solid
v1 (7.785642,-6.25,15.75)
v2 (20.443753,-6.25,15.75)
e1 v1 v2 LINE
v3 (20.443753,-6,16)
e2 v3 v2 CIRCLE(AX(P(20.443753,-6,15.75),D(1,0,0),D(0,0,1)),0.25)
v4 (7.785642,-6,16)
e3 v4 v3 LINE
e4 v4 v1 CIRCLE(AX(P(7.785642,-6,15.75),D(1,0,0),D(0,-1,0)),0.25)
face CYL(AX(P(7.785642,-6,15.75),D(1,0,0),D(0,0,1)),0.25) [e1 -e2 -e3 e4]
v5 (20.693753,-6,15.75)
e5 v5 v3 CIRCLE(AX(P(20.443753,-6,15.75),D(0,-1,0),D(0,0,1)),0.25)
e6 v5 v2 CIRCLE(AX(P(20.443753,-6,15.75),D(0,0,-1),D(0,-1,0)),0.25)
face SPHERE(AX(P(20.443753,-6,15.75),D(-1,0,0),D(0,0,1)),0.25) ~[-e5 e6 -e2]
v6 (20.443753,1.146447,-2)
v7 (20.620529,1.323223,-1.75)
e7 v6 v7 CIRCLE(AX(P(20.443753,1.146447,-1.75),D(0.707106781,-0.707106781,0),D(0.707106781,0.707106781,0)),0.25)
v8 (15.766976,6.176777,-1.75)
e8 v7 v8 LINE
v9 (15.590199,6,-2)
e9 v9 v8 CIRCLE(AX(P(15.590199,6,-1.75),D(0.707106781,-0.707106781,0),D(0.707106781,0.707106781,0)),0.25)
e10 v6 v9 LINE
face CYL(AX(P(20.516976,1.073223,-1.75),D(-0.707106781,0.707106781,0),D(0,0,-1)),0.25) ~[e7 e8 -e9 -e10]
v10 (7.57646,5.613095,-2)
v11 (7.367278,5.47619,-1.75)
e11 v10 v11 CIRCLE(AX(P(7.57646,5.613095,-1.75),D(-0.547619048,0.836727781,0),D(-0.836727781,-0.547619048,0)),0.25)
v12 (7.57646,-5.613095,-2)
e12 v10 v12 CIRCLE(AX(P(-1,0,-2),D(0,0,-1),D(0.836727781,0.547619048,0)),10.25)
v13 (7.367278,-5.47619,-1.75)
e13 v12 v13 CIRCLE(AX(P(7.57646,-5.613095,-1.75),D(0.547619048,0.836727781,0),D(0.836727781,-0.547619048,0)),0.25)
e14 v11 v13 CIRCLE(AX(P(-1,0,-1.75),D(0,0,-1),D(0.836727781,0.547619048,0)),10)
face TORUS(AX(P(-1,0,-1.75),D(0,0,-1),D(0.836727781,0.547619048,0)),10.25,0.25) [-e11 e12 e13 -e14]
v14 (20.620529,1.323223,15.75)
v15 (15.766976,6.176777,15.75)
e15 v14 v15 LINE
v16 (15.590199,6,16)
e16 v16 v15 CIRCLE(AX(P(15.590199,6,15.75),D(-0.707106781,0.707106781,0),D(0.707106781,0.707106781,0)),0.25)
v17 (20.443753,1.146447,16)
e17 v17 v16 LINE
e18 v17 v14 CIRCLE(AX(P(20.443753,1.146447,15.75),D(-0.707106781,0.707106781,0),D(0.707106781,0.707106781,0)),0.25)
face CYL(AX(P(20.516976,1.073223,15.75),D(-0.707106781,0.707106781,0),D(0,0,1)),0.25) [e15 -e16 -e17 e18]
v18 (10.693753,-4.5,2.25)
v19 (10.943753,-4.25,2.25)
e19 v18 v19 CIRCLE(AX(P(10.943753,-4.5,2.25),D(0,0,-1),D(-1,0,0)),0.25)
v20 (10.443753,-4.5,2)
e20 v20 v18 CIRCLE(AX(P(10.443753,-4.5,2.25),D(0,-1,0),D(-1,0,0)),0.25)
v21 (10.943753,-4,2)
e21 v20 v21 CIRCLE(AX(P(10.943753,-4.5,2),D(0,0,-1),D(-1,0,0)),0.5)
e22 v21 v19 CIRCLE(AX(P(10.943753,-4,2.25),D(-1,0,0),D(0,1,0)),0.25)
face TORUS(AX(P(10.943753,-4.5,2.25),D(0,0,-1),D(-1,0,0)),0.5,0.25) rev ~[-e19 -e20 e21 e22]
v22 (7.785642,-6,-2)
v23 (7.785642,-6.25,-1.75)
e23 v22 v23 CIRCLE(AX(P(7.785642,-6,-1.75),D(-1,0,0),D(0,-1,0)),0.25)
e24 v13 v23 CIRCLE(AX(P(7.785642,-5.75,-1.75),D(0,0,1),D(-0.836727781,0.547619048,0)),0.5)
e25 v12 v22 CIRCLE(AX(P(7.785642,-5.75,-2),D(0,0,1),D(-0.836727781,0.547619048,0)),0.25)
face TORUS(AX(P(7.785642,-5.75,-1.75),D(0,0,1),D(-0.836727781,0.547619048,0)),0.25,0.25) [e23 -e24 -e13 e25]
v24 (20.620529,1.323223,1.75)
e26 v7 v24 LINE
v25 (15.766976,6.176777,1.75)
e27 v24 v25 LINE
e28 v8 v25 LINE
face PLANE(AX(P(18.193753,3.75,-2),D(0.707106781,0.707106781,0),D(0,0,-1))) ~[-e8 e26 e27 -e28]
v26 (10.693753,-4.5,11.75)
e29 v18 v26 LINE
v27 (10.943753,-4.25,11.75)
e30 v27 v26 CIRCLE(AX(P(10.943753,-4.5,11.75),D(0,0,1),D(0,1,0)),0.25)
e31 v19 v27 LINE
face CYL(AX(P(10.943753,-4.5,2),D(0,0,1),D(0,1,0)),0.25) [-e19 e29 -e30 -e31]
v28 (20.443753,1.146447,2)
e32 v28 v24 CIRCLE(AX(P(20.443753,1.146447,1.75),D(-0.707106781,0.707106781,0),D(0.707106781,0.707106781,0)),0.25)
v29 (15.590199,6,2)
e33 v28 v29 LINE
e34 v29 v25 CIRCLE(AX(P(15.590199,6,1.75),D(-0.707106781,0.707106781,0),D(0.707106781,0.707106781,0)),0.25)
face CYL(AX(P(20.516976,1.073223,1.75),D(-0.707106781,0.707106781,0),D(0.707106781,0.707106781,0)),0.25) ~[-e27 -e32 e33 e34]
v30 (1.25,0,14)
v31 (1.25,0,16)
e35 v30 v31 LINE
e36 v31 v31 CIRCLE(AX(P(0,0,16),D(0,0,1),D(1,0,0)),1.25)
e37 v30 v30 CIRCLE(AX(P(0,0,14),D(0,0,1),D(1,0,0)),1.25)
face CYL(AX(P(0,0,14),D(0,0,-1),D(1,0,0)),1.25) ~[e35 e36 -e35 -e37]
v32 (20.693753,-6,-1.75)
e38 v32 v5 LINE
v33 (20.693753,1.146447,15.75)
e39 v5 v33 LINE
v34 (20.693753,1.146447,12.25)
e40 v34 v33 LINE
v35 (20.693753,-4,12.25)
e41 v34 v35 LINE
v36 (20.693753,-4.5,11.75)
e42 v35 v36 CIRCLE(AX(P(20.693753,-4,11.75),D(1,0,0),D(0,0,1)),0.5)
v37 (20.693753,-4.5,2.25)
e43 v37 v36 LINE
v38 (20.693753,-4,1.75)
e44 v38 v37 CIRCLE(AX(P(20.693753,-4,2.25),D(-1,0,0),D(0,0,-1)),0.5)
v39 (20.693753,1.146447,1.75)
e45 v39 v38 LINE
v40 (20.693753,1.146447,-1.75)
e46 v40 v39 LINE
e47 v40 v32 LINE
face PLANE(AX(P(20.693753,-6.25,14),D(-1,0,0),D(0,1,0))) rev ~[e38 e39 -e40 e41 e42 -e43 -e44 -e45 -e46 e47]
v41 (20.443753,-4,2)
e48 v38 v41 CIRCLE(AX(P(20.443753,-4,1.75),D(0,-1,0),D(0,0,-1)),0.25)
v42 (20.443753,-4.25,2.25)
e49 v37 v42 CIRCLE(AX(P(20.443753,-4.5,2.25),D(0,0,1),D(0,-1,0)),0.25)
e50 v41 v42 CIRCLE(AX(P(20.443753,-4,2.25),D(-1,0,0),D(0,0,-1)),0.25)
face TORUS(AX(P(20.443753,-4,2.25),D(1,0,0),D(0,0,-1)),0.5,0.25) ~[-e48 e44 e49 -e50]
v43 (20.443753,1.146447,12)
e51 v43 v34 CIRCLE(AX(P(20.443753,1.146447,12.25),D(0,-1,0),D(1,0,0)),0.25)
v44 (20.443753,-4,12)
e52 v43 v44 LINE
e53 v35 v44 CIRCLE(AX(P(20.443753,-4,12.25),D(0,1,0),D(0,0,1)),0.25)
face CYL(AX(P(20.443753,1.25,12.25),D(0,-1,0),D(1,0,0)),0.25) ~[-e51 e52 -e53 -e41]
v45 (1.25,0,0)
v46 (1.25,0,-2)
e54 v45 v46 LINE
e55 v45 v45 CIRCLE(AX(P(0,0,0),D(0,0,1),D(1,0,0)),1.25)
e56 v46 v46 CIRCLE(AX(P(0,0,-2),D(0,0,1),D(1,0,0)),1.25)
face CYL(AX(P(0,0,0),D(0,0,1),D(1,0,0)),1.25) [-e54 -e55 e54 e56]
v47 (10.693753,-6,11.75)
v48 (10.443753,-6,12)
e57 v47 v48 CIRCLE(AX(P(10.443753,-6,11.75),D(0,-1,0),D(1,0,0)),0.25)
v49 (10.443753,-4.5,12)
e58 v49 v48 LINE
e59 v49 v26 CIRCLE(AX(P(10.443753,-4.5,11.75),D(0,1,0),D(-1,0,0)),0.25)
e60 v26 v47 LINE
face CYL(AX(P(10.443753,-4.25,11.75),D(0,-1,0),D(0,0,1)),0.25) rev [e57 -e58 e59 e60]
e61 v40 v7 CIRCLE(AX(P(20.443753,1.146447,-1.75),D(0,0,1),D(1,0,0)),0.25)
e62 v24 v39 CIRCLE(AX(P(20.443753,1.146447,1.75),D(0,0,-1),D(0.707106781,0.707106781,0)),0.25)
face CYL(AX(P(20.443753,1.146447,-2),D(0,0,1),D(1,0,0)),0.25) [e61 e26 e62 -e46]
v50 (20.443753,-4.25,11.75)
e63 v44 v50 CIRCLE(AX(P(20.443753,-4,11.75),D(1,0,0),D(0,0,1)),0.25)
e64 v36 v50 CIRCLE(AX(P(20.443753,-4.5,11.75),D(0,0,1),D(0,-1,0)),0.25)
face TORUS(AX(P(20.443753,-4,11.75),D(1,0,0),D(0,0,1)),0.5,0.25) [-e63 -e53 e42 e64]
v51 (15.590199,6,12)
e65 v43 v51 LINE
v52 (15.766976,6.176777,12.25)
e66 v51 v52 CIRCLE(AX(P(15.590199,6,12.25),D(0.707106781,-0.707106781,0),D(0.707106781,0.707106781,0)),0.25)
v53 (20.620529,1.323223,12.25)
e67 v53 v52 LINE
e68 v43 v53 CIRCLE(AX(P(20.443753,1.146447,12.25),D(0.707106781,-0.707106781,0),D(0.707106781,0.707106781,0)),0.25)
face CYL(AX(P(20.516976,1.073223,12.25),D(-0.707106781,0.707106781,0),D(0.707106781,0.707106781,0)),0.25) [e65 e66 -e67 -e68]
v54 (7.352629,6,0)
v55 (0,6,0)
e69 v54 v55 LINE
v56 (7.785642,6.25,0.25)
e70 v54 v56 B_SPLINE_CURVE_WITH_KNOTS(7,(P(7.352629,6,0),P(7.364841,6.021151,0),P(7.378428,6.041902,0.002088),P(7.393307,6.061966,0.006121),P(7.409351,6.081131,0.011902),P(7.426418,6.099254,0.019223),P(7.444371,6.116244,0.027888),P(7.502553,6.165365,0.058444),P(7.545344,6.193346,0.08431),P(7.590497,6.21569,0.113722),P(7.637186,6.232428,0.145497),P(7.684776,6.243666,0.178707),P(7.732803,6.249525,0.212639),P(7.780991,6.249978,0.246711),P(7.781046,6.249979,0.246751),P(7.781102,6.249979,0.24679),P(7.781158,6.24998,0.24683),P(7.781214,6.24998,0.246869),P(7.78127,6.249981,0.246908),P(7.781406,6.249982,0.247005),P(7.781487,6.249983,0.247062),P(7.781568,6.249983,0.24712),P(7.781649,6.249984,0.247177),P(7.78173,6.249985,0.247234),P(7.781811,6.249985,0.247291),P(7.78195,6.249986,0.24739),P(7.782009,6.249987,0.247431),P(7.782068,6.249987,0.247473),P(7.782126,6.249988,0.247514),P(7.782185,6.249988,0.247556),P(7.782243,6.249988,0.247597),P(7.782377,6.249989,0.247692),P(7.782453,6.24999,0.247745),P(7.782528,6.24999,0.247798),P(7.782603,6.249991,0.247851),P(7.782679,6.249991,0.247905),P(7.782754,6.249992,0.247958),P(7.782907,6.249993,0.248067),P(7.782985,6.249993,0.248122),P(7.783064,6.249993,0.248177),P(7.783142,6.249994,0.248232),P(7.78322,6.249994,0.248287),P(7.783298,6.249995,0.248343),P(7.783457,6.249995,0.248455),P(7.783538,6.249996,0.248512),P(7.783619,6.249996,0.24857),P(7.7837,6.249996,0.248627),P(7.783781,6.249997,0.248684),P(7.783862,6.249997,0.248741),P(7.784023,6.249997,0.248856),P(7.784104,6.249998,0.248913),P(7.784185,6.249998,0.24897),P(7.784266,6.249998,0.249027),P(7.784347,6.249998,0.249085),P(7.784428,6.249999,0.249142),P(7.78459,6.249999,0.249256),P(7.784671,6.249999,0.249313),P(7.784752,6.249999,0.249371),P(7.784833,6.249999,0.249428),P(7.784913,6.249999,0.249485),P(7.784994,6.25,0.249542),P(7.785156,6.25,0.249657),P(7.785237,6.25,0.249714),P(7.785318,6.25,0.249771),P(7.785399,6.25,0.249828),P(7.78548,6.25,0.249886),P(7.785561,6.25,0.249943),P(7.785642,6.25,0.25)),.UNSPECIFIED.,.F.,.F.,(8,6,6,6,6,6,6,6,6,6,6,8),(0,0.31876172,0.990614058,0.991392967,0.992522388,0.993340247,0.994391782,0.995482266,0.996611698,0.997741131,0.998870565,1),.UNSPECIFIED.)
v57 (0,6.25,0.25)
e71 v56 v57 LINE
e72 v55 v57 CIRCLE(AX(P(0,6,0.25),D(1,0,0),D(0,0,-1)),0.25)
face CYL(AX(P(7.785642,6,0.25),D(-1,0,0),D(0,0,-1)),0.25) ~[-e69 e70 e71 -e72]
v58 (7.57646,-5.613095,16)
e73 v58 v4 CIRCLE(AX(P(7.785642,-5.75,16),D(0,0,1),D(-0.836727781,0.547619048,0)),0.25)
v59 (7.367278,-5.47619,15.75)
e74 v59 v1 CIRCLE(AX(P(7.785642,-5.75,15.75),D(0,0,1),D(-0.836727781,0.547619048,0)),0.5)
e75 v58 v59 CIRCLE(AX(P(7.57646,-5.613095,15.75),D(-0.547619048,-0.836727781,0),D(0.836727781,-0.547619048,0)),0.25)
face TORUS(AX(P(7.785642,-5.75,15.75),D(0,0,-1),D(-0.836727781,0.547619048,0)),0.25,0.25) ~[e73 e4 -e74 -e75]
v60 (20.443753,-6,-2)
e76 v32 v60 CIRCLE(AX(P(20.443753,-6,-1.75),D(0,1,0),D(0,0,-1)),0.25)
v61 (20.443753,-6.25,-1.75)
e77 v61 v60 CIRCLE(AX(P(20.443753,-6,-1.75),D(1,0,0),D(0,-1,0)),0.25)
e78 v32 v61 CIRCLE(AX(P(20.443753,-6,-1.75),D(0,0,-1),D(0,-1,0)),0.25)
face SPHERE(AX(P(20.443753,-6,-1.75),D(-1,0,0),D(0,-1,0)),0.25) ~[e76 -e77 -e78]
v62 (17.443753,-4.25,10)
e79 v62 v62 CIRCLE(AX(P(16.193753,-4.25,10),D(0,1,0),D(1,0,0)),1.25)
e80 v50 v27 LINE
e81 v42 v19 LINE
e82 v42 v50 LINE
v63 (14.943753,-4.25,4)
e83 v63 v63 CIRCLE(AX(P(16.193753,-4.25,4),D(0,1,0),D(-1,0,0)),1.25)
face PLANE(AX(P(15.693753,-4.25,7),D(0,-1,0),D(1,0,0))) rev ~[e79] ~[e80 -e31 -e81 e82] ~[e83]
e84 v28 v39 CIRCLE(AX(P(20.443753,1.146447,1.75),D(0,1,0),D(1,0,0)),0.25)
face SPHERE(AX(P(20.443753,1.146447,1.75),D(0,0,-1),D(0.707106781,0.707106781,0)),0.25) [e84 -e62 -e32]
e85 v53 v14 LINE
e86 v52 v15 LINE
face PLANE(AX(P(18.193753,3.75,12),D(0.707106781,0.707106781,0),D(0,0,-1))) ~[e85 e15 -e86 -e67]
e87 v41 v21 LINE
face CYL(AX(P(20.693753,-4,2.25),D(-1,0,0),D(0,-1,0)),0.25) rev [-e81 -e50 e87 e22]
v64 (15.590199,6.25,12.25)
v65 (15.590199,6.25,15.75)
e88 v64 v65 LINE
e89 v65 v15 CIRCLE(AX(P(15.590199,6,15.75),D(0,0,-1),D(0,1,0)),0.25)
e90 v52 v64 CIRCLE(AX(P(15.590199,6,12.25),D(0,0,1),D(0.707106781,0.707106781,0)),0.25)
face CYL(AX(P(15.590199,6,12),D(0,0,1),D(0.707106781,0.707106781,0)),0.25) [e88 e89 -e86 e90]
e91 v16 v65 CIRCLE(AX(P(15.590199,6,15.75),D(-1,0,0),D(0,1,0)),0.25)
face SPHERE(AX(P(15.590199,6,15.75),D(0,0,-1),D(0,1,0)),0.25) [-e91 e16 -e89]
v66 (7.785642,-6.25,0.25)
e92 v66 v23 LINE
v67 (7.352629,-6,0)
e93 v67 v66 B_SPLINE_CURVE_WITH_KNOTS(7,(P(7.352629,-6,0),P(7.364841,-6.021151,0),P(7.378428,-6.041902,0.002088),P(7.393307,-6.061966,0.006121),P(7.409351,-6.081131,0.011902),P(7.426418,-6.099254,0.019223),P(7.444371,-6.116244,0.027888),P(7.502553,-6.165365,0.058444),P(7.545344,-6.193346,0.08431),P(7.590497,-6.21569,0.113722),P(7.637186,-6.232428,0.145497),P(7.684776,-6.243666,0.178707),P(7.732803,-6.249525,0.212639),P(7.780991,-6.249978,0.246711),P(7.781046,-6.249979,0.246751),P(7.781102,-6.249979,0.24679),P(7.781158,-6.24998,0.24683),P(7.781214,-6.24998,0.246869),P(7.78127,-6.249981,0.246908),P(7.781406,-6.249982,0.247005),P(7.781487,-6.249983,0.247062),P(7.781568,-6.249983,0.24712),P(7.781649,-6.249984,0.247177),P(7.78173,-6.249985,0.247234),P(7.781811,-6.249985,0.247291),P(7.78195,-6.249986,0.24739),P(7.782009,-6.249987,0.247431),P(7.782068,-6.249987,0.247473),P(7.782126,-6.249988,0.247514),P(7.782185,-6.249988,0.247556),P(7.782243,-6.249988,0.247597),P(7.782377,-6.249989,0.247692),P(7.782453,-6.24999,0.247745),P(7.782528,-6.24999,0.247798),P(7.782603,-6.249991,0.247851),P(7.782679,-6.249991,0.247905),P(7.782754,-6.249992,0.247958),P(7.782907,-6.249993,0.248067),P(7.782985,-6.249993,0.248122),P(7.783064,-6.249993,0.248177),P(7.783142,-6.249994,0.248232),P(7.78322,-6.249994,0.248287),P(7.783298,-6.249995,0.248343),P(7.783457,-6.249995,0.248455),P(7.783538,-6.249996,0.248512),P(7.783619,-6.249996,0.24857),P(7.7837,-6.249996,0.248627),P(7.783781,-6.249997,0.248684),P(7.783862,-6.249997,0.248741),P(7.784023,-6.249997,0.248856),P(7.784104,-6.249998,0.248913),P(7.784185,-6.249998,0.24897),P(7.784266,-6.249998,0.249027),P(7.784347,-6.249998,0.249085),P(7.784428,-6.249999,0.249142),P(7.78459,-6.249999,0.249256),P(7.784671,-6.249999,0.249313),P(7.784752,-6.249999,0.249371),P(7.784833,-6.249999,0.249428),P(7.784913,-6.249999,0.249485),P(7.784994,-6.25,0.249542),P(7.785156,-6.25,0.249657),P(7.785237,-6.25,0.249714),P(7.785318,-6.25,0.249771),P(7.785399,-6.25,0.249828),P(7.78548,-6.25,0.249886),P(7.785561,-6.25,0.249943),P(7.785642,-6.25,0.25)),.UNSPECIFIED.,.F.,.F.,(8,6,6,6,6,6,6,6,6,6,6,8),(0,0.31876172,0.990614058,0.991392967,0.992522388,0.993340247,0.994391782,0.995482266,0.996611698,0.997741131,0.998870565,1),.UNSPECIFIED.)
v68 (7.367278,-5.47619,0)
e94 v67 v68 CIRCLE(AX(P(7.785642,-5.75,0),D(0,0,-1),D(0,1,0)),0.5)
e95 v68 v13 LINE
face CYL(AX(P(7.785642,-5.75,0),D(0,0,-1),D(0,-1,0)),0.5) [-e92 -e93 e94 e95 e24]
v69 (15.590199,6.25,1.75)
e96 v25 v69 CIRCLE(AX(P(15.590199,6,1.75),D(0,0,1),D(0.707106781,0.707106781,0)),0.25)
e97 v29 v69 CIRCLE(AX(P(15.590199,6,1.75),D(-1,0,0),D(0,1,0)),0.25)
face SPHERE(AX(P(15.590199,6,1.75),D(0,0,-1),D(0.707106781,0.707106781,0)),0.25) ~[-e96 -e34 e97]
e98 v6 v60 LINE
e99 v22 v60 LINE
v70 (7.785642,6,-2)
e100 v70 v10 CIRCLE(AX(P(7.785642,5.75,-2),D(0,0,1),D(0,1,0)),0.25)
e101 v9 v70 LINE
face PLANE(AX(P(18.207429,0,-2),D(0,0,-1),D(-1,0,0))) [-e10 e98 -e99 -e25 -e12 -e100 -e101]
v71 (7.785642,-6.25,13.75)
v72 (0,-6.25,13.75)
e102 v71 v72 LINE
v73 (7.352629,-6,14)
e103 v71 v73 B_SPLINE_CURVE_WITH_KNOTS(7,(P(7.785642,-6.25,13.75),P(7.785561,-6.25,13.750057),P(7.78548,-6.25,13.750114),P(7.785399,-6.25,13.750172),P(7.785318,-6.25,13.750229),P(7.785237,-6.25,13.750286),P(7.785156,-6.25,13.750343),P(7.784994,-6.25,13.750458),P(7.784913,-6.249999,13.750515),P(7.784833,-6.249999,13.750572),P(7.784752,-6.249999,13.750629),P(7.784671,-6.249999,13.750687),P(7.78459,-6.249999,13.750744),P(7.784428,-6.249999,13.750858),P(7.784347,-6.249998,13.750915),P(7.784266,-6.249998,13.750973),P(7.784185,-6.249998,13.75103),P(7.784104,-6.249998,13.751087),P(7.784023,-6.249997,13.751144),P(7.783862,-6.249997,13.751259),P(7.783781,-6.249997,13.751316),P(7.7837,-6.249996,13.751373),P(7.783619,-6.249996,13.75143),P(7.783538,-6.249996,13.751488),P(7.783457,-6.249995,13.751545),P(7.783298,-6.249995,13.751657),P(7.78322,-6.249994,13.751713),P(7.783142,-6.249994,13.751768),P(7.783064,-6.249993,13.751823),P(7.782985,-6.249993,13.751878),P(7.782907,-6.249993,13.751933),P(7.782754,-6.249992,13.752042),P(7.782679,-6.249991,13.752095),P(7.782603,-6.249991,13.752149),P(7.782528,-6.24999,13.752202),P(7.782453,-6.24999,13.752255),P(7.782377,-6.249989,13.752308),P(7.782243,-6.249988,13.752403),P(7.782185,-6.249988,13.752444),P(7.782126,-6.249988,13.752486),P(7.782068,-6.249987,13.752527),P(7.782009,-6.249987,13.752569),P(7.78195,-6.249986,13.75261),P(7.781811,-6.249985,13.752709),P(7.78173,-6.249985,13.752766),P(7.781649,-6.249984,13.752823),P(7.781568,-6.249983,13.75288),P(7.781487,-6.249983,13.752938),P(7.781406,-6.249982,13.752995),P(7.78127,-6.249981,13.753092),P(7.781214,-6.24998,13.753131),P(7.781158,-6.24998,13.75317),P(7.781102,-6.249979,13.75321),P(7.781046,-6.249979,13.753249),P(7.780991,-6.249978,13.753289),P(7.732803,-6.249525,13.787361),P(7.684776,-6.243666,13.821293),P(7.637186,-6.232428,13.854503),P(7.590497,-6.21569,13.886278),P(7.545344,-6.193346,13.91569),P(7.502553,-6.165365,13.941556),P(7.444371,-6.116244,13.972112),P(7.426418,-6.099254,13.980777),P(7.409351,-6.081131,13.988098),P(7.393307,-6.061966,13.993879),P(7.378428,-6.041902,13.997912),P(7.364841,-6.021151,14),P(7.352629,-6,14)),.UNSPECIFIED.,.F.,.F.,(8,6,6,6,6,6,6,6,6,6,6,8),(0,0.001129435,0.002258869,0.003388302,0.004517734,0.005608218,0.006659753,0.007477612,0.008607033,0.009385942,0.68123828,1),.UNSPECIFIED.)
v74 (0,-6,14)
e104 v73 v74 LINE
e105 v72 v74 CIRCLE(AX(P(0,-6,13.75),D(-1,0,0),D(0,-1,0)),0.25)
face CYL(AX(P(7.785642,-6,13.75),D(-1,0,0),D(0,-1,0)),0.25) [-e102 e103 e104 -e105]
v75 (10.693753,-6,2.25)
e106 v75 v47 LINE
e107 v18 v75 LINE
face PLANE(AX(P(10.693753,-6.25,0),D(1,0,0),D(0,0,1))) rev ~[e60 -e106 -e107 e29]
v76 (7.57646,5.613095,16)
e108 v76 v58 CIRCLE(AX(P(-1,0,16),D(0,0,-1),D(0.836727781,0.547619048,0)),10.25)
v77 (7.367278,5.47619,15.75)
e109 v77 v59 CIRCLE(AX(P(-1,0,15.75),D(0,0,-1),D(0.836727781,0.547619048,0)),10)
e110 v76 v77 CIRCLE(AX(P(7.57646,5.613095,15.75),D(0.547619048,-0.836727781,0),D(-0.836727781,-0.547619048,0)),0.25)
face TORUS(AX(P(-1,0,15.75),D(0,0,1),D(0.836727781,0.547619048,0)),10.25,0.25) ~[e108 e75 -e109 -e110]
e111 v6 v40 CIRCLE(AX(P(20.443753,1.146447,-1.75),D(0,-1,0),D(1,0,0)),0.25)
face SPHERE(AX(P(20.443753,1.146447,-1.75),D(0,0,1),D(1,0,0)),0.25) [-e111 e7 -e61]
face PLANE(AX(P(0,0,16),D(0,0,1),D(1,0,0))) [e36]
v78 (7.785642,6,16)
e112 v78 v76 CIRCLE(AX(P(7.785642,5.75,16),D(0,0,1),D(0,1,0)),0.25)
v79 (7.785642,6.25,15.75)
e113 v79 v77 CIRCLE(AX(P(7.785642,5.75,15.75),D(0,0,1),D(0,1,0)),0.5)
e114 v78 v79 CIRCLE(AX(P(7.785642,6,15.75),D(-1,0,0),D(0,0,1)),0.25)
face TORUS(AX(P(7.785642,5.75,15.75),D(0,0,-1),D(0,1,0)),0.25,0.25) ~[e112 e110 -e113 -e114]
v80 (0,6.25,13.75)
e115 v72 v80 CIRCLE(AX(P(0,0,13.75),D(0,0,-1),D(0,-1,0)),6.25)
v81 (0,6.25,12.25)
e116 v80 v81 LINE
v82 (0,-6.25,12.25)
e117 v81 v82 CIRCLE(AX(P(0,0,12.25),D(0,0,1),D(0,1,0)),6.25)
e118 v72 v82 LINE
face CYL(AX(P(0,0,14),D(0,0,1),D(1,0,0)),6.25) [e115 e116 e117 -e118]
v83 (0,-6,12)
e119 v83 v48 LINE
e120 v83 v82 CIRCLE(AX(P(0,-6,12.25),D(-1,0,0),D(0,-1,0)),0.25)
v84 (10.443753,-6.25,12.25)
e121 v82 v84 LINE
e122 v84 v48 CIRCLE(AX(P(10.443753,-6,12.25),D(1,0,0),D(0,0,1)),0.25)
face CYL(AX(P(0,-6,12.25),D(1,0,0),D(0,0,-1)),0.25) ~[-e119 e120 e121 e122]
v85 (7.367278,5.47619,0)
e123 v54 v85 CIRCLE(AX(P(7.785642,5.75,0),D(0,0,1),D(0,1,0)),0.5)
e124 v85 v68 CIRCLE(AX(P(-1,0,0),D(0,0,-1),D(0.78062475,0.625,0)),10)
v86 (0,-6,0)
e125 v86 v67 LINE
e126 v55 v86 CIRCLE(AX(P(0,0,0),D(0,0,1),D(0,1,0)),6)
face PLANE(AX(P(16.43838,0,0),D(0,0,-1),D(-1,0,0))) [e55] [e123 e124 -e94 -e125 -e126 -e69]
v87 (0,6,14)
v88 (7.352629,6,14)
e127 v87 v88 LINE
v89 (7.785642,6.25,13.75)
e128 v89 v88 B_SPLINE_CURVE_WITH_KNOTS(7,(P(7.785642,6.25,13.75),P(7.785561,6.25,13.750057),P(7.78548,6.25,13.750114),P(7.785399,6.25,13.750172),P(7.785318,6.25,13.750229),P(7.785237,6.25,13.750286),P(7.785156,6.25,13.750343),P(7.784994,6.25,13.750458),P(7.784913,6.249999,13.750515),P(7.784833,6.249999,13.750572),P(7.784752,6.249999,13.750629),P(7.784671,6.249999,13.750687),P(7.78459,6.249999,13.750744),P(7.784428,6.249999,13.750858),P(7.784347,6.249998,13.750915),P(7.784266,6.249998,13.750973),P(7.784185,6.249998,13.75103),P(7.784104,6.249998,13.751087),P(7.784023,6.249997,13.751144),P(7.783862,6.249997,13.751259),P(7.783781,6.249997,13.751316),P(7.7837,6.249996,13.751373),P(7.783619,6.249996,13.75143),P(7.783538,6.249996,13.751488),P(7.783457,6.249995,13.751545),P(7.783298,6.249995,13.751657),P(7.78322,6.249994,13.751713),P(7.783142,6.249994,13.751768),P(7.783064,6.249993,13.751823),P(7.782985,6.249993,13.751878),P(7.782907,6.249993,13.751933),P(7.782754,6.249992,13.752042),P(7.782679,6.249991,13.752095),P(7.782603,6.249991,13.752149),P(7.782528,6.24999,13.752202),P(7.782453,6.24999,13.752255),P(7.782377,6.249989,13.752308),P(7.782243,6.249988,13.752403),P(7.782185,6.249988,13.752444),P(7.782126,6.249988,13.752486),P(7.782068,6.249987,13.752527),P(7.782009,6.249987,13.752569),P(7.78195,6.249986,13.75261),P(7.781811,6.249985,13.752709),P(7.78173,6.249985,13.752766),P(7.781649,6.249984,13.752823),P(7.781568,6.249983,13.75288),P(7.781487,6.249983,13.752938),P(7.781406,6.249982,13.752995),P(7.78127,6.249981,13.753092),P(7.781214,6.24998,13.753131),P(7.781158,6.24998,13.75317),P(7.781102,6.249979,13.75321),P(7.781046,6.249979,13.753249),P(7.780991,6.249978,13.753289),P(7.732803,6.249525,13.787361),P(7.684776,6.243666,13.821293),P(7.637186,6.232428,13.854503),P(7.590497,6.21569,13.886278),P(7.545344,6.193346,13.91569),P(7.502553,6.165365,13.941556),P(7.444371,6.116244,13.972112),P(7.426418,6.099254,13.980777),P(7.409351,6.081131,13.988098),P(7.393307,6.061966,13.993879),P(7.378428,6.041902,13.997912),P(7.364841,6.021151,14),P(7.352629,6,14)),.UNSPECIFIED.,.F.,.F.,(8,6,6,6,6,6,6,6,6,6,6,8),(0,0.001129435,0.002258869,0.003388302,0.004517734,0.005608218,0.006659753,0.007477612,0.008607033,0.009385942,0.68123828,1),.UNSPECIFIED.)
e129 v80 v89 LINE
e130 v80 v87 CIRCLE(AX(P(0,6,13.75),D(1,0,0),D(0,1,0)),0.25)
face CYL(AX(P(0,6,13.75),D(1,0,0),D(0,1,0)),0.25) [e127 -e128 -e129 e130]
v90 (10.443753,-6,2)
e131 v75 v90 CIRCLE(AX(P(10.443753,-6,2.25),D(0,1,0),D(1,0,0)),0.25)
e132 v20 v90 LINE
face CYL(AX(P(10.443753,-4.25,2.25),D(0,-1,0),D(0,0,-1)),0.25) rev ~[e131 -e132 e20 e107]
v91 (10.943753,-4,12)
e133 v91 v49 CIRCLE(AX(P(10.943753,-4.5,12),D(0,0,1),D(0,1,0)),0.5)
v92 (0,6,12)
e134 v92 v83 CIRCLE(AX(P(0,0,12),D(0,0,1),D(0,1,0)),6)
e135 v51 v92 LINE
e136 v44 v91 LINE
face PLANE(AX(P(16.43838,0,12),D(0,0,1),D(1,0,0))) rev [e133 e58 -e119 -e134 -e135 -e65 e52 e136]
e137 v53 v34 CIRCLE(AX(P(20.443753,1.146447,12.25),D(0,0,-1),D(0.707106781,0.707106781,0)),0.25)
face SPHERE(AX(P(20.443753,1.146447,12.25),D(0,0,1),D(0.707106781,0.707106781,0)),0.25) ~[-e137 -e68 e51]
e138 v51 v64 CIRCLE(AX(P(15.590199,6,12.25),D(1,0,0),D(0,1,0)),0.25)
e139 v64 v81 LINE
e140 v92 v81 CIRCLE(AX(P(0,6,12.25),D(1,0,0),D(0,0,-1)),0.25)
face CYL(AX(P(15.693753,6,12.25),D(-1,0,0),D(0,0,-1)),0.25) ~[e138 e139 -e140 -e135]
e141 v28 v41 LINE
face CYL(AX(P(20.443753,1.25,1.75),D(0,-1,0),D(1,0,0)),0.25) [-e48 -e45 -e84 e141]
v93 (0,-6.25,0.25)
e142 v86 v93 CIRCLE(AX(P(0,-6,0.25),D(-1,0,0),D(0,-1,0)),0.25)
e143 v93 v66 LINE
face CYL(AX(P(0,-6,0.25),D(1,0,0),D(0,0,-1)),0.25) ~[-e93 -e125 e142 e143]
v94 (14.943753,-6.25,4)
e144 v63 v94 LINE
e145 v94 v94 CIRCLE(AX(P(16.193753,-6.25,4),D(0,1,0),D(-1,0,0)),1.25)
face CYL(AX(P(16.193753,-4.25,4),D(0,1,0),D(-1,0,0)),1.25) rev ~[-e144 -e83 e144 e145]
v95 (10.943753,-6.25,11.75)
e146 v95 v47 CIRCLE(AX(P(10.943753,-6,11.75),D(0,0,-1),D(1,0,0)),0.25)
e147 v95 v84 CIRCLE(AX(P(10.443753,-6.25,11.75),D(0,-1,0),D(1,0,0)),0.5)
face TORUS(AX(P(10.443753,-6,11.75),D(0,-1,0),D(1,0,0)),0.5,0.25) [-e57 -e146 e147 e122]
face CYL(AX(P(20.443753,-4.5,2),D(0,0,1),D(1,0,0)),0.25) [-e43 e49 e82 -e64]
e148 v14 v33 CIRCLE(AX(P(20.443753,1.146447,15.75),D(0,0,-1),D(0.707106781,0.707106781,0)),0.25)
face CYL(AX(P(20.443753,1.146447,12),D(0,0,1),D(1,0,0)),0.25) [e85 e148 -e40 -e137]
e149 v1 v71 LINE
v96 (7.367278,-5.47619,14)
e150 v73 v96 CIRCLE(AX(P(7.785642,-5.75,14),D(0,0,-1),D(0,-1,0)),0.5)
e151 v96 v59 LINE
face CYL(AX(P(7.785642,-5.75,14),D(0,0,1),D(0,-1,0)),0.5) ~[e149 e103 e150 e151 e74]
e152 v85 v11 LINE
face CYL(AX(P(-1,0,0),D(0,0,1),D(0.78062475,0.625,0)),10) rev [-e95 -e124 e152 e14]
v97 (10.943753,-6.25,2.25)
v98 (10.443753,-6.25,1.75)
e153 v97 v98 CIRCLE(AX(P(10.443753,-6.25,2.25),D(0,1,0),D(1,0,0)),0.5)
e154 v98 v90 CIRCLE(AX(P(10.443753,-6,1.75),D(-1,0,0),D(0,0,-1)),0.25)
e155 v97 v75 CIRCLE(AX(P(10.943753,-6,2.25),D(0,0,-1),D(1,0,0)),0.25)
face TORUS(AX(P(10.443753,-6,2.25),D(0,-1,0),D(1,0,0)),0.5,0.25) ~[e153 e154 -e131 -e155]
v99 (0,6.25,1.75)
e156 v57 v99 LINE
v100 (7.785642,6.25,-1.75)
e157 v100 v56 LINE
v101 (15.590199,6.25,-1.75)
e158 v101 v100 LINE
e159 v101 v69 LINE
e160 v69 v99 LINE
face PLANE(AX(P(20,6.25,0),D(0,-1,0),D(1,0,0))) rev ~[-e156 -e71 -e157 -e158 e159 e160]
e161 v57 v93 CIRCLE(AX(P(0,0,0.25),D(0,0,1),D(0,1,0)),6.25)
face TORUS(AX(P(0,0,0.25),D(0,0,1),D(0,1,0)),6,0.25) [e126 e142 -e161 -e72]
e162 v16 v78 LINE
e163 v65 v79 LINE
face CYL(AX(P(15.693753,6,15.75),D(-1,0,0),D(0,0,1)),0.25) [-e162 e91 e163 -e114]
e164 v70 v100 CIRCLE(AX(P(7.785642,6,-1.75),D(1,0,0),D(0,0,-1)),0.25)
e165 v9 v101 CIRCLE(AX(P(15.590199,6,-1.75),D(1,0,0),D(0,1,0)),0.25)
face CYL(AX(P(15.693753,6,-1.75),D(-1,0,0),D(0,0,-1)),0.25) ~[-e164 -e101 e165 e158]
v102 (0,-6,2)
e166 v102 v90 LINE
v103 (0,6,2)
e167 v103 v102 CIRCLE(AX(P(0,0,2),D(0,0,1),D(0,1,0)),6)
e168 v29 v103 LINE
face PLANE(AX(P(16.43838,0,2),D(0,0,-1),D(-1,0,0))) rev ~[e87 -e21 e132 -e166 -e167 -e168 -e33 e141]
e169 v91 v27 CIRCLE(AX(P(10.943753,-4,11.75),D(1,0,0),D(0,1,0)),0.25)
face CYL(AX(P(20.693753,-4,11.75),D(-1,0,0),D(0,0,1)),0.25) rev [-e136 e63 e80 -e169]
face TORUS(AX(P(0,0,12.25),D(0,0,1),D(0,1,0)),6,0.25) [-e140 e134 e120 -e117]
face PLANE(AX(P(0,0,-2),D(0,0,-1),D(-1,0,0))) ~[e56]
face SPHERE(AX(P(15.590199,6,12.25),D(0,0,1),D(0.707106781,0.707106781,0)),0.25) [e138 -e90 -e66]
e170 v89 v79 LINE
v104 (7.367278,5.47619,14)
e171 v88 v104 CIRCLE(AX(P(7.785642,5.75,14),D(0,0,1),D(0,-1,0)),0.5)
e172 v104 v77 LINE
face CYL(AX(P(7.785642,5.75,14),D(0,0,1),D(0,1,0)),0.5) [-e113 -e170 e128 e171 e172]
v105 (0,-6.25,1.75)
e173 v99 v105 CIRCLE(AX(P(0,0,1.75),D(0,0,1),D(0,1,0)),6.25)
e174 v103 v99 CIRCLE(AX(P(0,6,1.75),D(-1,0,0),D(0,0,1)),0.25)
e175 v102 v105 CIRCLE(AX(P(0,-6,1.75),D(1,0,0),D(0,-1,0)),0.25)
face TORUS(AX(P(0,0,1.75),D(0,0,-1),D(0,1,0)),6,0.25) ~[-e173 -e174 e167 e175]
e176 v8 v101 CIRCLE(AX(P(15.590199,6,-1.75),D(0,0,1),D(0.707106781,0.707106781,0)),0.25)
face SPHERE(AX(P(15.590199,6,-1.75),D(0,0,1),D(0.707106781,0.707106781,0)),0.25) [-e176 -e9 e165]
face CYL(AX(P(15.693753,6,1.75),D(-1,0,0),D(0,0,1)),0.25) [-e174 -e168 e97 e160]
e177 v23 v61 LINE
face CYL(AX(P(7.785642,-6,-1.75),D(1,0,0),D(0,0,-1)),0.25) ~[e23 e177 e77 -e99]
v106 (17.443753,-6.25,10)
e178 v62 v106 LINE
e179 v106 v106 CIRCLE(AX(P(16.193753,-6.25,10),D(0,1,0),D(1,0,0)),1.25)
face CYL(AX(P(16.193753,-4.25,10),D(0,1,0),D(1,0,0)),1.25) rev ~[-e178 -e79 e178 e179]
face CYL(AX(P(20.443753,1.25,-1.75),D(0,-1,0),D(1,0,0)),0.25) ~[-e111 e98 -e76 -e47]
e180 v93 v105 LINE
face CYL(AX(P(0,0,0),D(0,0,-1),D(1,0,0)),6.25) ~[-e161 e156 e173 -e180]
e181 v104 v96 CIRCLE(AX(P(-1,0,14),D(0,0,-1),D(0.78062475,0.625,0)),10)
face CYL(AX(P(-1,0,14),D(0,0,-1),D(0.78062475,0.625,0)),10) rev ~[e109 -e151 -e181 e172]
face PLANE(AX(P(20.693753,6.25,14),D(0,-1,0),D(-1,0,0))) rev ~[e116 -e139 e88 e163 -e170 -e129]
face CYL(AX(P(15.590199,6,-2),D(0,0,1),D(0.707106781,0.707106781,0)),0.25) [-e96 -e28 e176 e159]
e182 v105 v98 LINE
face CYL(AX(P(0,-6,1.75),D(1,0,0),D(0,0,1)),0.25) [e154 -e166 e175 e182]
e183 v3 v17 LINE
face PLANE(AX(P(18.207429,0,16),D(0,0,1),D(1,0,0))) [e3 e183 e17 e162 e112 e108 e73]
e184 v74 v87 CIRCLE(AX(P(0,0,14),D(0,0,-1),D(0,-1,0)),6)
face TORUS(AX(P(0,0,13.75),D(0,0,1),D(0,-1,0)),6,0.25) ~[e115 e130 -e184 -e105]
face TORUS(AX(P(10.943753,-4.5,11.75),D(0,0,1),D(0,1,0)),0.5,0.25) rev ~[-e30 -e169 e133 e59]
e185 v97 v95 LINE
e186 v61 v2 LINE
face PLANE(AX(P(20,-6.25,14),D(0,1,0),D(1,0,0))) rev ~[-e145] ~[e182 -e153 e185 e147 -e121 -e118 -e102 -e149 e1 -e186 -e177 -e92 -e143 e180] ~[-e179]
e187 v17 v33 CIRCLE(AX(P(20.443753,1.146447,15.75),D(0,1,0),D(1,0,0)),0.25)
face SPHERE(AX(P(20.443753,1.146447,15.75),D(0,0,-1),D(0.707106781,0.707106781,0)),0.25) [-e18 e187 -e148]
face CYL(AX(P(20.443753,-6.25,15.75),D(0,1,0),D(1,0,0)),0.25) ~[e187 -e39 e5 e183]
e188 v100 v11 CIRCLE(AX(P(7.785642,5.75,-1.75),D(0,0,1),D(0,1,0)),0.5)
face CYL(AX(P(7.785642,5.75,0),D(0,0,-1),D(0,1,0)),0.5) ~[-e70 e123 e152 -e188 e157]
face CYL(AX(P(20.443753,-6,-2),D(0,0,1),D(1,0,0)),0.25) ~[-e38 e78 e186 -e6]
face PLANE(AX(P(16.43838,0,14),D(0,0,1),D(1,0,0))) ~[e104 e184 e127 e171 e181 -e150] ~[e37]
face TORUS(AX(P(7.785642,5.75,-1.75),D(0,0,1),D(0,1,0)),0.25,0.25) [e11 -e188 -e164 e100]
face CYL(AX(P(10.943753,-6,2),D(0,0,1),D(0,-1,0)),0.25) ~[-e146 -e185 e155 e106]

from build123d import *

# Parameters (mm, degrees)
BOSS_EXTRUDE1_DEPTH  = 4
BOSS_EXTRUDE7_DEPTH  = 4
SKETCH9_W            = 20
SKETCH9_H            = 28
BOSS_EXTRUDE8_DEPTH  = 4
BOSS_EXTRUDE9_DEPTH  = 4
FILLET4_R            = 1
BOSS_EXTRUDE11_DEPTH = 4
BOSS_EXTRUDE12_DEPTH = 4
SKETCH15_R           = 2.5
CUT_EXTRUDE4_DEPTH   = 4
CHAMFER2_SIZE        = 10
SKETCH11_R           = 2.5
BOSS_EXTRUDE13_DEPTH = 4
FILLET6_R            = 0.5
SCALE1_SCALE         = 0.5


with BuildPart() as part:
    # Sketch1 → Boss-Extrude1 (new body)
    with BuildSketch(Plane.XY):
        with BuildLine():
            ThreePointArc((0, 12.5), (-12.5, 0), (0, -12.5))
            Line((0, -12.5), (26.387505004, -12.5))
            ThreePointArc((26.387505004, -12.5), (22, 0), (26.387505004, 12.5))
            Line((26.387505004, 12.5), (0, 12.5))
        make_face()
    extrude(amount=BOSS_EXTRUDE1_DEPTH)

    # Sketch8 → Boss-Extrude7 (add)
    with BuildSketch(Plane(origin=(0, 0, 0), x_dir=(-1, 0, 0), z_dir=(0, 0, -1))):
        with BuildLine():
            Line((-26.387505004, 12.5), (-41.387505004, 12.5))
            Line((-41.387505004, 12.5), (-41.387505004, -12.5))
            Line((-41.387505004, -12.5), (-26.387505004, -12.5))
            ThreePointArc((-26.387505004, -12.5), (-22, 0), (-26.387505004, 12.5))
        make_face()
    extrude(amount=-BOSS_EXTRUDE7_DEPTH)


with BuildPart() as body_2:
    # Mirror3: mirrored copy
    add(part.part.mirror(Plane.XY.offset(14)))


with BuildPart() as part_1:
    add(part.part)

    add(body_2.part)  # Boss-Extrude8 merges body 2
    # Sketch9 → Boss-Extrude8 (add)
    with BuildSketch(Plane.XZ.offset(12.5)):
        with Locations((31.387505004, 14)):
            Rectangle(SKETCH9_W, SKETCH9_H)
    extrude(amount=-BOSS_EXTRUDE8_DEPTH)

    # Sketch1<4> → Boss-Extrude9 (add)
    with BuildSketch(Plane.XY):
        with BuildLine():
            ThreePointArc((13.612494996, 12.5), (18, 0), (13.612494996, -12.5))
            Line((13.612494996, -12.5), (40, -12.5))
            ThreePointArc((40, -12.5), (27.5, 0), (40, 12.5))
            Line((40, 12.5), (13.612494996, 12.5))
        make_face()
    boss_extrude9 = extrude(amount=-BOSS_EXTRUDE9_DEPTH)

    # Mirror4: Boss-Extrude9 across plane
    add(boss_extrude9.mirror(Plane.XY.offset(14)))

    # Fillet4
    fillet4_edges = [part_1.edges().sort_by_distance(p)[0] for p in [
        (13.612494996, -12.5, 30),
        (13.612494996, 12.5, 30),
        (13.612494996, -12.5, -2),
        (13.612494996, 12.5, -2),
    ]]
    fillet(fillet4_edges, radius=FILLET4_R)

    # Sketch13 → Boss-Extrude11 (add)
    with BuildSketch(Plane(origin=(0, 0, 0), x_dir=(-1, 0, 0), z_dir=(0, 0, -1))):
        with BuildLine():
            Line((-41.387505004, -12.5), (-40, -12.5))
            ThreePointArc((-40, -12.5), (-27.5, 0), (-40, 12.5))
            Line((-40, 12.5), (-41.387505004, 12.5))
            Line((-41.387505004, 12.5), (-41.387505004, -12.5))
        make_face()
    extrude(amount=BOSS_EXTRUDE11_DEPTH)

    # Sketch14 → Boss-Extrude12 (add)
    with BuildSketch(Plane.XY.offset(28)):
        with BuildLine():
            Line((40, -12.5), (41.387505004, -12.5))
            Line((41.387505004, -12.5), (41.387505004, 12.5))
            Line((41.387505004, 12.5), (40, 12.5))
            ThreePointArc((40, 12.5), (27.5, 0), (40, -12.5))
        make_face()
    extrude(amount=BOSS_EXTRUDE12_DEPTH)

    # Sketch15 → Cut-Extrude4 (cut)
    with BuildSketch(Plane(origin=(0, -8.5, 0), x_dir=(1, 0, 0), z_dir=(0, 1, 0))):
        with Locations((32.387505004, -8)):
            Circle(SKETCH15_R)
        with Locations((32.387505004, -20)):
            Circle(SKETCH15_R)
    extrude(amount=-CUT_EXTRUDE4_DEPTH, mode=Mode.SUBTRACT)

    # Chamfer2
    chamfer2_edges = [part_1.edges().sort_by_distance(p)[0] for p in [
        (41.387505004, 12.5, 0),
        (41.387505004, 12.5, 28),
    ]]
    chamfer(chamfer2_edges, length=CHAMFER2_SIZE)

    # Sketch11 → Boss-Extrude13 (add)
    with BuildSketch(Plane.XY.offset(28)):
        Circle(SKETCH11_R)
    boss_extrude13 = extrude(amount=BOSS_EXTRUDE13_DEPTH)

    # Mirror5: Boss-Extrude13 across plane
    add(boss_extrude13.mirror(Plane.XY.offset(14)))

    # Fillet6
    fillet6_edges = [part_1.edges().sort_by_distance(p)[0] for p in [
        (21.387505004, -12.5, 14),
        (7.785641695, -12.5, 28),
        (-12.5, 0, 28),
        (7.785641695, -12.5, 0),
        (-12.5, 0, 0),
        (28.479394197, -12.5, -4),
        (14.691618953, -11.975594866, -4),
        (18, 0, -4),
        (14.691618953, 11.975594866, -4),
        (28.479394197, -12.5, 32),
        (14.691618953, -11.975594866, 32),
        (14.691618953, 11.975594866, 32),
        (36.387505004, 7.5, 32),
        (7.785641695, 12.5, 28),
        (31.387505004, 12.5, 28),
        (23.479394197, 12.5, 32),
        (41.387505004, -12.5, 14),
        (41.387505004, -5, 32),
        (41.387505004, 2.5, 28),
        (41.387505004, -8.5, 14),
        (41.387505004, -5, -4),
        (7.785641695, 12.5, 0),
        (23.479394197, 12.5, -4),
        (31.387505004, 12.5, 0),
        (36.387505004, 7.5, -4),
        (41.387505004, 2.5, 0),
        (-12.5, 0, 24),
        (10.693752502, -12.5, 24),
        (21.387505004, -10.5, 24),
        (31.387505004, -8.5, 24),
        (41.387505004, -3, 24),
        (36.387505004, 7.5, 24),
        (15.693752502, 12.5, 24),
        (31.387505004, -8.5, 4),
        (21.387505004, -10.5, 4),
        (10.693752502, -12.5, 4),
        (-12.5, 0, 4),
        (15.693752502, 12.5, 4),
        (36.387505004, 7.5, 4),
        (41.387505004, -3, 4),
        (21.387505004, -8.5, 14),
        (18, 0, 32),
    ]]
    fillet(fillet6_edges, radius=FILLET6_R)


with BuildPart() as part_2:
    # Scale1: scaled about (0, 0, 0)
    add(part_1.part.scale(SCALE1_SCALE))


solid = part_2.part
